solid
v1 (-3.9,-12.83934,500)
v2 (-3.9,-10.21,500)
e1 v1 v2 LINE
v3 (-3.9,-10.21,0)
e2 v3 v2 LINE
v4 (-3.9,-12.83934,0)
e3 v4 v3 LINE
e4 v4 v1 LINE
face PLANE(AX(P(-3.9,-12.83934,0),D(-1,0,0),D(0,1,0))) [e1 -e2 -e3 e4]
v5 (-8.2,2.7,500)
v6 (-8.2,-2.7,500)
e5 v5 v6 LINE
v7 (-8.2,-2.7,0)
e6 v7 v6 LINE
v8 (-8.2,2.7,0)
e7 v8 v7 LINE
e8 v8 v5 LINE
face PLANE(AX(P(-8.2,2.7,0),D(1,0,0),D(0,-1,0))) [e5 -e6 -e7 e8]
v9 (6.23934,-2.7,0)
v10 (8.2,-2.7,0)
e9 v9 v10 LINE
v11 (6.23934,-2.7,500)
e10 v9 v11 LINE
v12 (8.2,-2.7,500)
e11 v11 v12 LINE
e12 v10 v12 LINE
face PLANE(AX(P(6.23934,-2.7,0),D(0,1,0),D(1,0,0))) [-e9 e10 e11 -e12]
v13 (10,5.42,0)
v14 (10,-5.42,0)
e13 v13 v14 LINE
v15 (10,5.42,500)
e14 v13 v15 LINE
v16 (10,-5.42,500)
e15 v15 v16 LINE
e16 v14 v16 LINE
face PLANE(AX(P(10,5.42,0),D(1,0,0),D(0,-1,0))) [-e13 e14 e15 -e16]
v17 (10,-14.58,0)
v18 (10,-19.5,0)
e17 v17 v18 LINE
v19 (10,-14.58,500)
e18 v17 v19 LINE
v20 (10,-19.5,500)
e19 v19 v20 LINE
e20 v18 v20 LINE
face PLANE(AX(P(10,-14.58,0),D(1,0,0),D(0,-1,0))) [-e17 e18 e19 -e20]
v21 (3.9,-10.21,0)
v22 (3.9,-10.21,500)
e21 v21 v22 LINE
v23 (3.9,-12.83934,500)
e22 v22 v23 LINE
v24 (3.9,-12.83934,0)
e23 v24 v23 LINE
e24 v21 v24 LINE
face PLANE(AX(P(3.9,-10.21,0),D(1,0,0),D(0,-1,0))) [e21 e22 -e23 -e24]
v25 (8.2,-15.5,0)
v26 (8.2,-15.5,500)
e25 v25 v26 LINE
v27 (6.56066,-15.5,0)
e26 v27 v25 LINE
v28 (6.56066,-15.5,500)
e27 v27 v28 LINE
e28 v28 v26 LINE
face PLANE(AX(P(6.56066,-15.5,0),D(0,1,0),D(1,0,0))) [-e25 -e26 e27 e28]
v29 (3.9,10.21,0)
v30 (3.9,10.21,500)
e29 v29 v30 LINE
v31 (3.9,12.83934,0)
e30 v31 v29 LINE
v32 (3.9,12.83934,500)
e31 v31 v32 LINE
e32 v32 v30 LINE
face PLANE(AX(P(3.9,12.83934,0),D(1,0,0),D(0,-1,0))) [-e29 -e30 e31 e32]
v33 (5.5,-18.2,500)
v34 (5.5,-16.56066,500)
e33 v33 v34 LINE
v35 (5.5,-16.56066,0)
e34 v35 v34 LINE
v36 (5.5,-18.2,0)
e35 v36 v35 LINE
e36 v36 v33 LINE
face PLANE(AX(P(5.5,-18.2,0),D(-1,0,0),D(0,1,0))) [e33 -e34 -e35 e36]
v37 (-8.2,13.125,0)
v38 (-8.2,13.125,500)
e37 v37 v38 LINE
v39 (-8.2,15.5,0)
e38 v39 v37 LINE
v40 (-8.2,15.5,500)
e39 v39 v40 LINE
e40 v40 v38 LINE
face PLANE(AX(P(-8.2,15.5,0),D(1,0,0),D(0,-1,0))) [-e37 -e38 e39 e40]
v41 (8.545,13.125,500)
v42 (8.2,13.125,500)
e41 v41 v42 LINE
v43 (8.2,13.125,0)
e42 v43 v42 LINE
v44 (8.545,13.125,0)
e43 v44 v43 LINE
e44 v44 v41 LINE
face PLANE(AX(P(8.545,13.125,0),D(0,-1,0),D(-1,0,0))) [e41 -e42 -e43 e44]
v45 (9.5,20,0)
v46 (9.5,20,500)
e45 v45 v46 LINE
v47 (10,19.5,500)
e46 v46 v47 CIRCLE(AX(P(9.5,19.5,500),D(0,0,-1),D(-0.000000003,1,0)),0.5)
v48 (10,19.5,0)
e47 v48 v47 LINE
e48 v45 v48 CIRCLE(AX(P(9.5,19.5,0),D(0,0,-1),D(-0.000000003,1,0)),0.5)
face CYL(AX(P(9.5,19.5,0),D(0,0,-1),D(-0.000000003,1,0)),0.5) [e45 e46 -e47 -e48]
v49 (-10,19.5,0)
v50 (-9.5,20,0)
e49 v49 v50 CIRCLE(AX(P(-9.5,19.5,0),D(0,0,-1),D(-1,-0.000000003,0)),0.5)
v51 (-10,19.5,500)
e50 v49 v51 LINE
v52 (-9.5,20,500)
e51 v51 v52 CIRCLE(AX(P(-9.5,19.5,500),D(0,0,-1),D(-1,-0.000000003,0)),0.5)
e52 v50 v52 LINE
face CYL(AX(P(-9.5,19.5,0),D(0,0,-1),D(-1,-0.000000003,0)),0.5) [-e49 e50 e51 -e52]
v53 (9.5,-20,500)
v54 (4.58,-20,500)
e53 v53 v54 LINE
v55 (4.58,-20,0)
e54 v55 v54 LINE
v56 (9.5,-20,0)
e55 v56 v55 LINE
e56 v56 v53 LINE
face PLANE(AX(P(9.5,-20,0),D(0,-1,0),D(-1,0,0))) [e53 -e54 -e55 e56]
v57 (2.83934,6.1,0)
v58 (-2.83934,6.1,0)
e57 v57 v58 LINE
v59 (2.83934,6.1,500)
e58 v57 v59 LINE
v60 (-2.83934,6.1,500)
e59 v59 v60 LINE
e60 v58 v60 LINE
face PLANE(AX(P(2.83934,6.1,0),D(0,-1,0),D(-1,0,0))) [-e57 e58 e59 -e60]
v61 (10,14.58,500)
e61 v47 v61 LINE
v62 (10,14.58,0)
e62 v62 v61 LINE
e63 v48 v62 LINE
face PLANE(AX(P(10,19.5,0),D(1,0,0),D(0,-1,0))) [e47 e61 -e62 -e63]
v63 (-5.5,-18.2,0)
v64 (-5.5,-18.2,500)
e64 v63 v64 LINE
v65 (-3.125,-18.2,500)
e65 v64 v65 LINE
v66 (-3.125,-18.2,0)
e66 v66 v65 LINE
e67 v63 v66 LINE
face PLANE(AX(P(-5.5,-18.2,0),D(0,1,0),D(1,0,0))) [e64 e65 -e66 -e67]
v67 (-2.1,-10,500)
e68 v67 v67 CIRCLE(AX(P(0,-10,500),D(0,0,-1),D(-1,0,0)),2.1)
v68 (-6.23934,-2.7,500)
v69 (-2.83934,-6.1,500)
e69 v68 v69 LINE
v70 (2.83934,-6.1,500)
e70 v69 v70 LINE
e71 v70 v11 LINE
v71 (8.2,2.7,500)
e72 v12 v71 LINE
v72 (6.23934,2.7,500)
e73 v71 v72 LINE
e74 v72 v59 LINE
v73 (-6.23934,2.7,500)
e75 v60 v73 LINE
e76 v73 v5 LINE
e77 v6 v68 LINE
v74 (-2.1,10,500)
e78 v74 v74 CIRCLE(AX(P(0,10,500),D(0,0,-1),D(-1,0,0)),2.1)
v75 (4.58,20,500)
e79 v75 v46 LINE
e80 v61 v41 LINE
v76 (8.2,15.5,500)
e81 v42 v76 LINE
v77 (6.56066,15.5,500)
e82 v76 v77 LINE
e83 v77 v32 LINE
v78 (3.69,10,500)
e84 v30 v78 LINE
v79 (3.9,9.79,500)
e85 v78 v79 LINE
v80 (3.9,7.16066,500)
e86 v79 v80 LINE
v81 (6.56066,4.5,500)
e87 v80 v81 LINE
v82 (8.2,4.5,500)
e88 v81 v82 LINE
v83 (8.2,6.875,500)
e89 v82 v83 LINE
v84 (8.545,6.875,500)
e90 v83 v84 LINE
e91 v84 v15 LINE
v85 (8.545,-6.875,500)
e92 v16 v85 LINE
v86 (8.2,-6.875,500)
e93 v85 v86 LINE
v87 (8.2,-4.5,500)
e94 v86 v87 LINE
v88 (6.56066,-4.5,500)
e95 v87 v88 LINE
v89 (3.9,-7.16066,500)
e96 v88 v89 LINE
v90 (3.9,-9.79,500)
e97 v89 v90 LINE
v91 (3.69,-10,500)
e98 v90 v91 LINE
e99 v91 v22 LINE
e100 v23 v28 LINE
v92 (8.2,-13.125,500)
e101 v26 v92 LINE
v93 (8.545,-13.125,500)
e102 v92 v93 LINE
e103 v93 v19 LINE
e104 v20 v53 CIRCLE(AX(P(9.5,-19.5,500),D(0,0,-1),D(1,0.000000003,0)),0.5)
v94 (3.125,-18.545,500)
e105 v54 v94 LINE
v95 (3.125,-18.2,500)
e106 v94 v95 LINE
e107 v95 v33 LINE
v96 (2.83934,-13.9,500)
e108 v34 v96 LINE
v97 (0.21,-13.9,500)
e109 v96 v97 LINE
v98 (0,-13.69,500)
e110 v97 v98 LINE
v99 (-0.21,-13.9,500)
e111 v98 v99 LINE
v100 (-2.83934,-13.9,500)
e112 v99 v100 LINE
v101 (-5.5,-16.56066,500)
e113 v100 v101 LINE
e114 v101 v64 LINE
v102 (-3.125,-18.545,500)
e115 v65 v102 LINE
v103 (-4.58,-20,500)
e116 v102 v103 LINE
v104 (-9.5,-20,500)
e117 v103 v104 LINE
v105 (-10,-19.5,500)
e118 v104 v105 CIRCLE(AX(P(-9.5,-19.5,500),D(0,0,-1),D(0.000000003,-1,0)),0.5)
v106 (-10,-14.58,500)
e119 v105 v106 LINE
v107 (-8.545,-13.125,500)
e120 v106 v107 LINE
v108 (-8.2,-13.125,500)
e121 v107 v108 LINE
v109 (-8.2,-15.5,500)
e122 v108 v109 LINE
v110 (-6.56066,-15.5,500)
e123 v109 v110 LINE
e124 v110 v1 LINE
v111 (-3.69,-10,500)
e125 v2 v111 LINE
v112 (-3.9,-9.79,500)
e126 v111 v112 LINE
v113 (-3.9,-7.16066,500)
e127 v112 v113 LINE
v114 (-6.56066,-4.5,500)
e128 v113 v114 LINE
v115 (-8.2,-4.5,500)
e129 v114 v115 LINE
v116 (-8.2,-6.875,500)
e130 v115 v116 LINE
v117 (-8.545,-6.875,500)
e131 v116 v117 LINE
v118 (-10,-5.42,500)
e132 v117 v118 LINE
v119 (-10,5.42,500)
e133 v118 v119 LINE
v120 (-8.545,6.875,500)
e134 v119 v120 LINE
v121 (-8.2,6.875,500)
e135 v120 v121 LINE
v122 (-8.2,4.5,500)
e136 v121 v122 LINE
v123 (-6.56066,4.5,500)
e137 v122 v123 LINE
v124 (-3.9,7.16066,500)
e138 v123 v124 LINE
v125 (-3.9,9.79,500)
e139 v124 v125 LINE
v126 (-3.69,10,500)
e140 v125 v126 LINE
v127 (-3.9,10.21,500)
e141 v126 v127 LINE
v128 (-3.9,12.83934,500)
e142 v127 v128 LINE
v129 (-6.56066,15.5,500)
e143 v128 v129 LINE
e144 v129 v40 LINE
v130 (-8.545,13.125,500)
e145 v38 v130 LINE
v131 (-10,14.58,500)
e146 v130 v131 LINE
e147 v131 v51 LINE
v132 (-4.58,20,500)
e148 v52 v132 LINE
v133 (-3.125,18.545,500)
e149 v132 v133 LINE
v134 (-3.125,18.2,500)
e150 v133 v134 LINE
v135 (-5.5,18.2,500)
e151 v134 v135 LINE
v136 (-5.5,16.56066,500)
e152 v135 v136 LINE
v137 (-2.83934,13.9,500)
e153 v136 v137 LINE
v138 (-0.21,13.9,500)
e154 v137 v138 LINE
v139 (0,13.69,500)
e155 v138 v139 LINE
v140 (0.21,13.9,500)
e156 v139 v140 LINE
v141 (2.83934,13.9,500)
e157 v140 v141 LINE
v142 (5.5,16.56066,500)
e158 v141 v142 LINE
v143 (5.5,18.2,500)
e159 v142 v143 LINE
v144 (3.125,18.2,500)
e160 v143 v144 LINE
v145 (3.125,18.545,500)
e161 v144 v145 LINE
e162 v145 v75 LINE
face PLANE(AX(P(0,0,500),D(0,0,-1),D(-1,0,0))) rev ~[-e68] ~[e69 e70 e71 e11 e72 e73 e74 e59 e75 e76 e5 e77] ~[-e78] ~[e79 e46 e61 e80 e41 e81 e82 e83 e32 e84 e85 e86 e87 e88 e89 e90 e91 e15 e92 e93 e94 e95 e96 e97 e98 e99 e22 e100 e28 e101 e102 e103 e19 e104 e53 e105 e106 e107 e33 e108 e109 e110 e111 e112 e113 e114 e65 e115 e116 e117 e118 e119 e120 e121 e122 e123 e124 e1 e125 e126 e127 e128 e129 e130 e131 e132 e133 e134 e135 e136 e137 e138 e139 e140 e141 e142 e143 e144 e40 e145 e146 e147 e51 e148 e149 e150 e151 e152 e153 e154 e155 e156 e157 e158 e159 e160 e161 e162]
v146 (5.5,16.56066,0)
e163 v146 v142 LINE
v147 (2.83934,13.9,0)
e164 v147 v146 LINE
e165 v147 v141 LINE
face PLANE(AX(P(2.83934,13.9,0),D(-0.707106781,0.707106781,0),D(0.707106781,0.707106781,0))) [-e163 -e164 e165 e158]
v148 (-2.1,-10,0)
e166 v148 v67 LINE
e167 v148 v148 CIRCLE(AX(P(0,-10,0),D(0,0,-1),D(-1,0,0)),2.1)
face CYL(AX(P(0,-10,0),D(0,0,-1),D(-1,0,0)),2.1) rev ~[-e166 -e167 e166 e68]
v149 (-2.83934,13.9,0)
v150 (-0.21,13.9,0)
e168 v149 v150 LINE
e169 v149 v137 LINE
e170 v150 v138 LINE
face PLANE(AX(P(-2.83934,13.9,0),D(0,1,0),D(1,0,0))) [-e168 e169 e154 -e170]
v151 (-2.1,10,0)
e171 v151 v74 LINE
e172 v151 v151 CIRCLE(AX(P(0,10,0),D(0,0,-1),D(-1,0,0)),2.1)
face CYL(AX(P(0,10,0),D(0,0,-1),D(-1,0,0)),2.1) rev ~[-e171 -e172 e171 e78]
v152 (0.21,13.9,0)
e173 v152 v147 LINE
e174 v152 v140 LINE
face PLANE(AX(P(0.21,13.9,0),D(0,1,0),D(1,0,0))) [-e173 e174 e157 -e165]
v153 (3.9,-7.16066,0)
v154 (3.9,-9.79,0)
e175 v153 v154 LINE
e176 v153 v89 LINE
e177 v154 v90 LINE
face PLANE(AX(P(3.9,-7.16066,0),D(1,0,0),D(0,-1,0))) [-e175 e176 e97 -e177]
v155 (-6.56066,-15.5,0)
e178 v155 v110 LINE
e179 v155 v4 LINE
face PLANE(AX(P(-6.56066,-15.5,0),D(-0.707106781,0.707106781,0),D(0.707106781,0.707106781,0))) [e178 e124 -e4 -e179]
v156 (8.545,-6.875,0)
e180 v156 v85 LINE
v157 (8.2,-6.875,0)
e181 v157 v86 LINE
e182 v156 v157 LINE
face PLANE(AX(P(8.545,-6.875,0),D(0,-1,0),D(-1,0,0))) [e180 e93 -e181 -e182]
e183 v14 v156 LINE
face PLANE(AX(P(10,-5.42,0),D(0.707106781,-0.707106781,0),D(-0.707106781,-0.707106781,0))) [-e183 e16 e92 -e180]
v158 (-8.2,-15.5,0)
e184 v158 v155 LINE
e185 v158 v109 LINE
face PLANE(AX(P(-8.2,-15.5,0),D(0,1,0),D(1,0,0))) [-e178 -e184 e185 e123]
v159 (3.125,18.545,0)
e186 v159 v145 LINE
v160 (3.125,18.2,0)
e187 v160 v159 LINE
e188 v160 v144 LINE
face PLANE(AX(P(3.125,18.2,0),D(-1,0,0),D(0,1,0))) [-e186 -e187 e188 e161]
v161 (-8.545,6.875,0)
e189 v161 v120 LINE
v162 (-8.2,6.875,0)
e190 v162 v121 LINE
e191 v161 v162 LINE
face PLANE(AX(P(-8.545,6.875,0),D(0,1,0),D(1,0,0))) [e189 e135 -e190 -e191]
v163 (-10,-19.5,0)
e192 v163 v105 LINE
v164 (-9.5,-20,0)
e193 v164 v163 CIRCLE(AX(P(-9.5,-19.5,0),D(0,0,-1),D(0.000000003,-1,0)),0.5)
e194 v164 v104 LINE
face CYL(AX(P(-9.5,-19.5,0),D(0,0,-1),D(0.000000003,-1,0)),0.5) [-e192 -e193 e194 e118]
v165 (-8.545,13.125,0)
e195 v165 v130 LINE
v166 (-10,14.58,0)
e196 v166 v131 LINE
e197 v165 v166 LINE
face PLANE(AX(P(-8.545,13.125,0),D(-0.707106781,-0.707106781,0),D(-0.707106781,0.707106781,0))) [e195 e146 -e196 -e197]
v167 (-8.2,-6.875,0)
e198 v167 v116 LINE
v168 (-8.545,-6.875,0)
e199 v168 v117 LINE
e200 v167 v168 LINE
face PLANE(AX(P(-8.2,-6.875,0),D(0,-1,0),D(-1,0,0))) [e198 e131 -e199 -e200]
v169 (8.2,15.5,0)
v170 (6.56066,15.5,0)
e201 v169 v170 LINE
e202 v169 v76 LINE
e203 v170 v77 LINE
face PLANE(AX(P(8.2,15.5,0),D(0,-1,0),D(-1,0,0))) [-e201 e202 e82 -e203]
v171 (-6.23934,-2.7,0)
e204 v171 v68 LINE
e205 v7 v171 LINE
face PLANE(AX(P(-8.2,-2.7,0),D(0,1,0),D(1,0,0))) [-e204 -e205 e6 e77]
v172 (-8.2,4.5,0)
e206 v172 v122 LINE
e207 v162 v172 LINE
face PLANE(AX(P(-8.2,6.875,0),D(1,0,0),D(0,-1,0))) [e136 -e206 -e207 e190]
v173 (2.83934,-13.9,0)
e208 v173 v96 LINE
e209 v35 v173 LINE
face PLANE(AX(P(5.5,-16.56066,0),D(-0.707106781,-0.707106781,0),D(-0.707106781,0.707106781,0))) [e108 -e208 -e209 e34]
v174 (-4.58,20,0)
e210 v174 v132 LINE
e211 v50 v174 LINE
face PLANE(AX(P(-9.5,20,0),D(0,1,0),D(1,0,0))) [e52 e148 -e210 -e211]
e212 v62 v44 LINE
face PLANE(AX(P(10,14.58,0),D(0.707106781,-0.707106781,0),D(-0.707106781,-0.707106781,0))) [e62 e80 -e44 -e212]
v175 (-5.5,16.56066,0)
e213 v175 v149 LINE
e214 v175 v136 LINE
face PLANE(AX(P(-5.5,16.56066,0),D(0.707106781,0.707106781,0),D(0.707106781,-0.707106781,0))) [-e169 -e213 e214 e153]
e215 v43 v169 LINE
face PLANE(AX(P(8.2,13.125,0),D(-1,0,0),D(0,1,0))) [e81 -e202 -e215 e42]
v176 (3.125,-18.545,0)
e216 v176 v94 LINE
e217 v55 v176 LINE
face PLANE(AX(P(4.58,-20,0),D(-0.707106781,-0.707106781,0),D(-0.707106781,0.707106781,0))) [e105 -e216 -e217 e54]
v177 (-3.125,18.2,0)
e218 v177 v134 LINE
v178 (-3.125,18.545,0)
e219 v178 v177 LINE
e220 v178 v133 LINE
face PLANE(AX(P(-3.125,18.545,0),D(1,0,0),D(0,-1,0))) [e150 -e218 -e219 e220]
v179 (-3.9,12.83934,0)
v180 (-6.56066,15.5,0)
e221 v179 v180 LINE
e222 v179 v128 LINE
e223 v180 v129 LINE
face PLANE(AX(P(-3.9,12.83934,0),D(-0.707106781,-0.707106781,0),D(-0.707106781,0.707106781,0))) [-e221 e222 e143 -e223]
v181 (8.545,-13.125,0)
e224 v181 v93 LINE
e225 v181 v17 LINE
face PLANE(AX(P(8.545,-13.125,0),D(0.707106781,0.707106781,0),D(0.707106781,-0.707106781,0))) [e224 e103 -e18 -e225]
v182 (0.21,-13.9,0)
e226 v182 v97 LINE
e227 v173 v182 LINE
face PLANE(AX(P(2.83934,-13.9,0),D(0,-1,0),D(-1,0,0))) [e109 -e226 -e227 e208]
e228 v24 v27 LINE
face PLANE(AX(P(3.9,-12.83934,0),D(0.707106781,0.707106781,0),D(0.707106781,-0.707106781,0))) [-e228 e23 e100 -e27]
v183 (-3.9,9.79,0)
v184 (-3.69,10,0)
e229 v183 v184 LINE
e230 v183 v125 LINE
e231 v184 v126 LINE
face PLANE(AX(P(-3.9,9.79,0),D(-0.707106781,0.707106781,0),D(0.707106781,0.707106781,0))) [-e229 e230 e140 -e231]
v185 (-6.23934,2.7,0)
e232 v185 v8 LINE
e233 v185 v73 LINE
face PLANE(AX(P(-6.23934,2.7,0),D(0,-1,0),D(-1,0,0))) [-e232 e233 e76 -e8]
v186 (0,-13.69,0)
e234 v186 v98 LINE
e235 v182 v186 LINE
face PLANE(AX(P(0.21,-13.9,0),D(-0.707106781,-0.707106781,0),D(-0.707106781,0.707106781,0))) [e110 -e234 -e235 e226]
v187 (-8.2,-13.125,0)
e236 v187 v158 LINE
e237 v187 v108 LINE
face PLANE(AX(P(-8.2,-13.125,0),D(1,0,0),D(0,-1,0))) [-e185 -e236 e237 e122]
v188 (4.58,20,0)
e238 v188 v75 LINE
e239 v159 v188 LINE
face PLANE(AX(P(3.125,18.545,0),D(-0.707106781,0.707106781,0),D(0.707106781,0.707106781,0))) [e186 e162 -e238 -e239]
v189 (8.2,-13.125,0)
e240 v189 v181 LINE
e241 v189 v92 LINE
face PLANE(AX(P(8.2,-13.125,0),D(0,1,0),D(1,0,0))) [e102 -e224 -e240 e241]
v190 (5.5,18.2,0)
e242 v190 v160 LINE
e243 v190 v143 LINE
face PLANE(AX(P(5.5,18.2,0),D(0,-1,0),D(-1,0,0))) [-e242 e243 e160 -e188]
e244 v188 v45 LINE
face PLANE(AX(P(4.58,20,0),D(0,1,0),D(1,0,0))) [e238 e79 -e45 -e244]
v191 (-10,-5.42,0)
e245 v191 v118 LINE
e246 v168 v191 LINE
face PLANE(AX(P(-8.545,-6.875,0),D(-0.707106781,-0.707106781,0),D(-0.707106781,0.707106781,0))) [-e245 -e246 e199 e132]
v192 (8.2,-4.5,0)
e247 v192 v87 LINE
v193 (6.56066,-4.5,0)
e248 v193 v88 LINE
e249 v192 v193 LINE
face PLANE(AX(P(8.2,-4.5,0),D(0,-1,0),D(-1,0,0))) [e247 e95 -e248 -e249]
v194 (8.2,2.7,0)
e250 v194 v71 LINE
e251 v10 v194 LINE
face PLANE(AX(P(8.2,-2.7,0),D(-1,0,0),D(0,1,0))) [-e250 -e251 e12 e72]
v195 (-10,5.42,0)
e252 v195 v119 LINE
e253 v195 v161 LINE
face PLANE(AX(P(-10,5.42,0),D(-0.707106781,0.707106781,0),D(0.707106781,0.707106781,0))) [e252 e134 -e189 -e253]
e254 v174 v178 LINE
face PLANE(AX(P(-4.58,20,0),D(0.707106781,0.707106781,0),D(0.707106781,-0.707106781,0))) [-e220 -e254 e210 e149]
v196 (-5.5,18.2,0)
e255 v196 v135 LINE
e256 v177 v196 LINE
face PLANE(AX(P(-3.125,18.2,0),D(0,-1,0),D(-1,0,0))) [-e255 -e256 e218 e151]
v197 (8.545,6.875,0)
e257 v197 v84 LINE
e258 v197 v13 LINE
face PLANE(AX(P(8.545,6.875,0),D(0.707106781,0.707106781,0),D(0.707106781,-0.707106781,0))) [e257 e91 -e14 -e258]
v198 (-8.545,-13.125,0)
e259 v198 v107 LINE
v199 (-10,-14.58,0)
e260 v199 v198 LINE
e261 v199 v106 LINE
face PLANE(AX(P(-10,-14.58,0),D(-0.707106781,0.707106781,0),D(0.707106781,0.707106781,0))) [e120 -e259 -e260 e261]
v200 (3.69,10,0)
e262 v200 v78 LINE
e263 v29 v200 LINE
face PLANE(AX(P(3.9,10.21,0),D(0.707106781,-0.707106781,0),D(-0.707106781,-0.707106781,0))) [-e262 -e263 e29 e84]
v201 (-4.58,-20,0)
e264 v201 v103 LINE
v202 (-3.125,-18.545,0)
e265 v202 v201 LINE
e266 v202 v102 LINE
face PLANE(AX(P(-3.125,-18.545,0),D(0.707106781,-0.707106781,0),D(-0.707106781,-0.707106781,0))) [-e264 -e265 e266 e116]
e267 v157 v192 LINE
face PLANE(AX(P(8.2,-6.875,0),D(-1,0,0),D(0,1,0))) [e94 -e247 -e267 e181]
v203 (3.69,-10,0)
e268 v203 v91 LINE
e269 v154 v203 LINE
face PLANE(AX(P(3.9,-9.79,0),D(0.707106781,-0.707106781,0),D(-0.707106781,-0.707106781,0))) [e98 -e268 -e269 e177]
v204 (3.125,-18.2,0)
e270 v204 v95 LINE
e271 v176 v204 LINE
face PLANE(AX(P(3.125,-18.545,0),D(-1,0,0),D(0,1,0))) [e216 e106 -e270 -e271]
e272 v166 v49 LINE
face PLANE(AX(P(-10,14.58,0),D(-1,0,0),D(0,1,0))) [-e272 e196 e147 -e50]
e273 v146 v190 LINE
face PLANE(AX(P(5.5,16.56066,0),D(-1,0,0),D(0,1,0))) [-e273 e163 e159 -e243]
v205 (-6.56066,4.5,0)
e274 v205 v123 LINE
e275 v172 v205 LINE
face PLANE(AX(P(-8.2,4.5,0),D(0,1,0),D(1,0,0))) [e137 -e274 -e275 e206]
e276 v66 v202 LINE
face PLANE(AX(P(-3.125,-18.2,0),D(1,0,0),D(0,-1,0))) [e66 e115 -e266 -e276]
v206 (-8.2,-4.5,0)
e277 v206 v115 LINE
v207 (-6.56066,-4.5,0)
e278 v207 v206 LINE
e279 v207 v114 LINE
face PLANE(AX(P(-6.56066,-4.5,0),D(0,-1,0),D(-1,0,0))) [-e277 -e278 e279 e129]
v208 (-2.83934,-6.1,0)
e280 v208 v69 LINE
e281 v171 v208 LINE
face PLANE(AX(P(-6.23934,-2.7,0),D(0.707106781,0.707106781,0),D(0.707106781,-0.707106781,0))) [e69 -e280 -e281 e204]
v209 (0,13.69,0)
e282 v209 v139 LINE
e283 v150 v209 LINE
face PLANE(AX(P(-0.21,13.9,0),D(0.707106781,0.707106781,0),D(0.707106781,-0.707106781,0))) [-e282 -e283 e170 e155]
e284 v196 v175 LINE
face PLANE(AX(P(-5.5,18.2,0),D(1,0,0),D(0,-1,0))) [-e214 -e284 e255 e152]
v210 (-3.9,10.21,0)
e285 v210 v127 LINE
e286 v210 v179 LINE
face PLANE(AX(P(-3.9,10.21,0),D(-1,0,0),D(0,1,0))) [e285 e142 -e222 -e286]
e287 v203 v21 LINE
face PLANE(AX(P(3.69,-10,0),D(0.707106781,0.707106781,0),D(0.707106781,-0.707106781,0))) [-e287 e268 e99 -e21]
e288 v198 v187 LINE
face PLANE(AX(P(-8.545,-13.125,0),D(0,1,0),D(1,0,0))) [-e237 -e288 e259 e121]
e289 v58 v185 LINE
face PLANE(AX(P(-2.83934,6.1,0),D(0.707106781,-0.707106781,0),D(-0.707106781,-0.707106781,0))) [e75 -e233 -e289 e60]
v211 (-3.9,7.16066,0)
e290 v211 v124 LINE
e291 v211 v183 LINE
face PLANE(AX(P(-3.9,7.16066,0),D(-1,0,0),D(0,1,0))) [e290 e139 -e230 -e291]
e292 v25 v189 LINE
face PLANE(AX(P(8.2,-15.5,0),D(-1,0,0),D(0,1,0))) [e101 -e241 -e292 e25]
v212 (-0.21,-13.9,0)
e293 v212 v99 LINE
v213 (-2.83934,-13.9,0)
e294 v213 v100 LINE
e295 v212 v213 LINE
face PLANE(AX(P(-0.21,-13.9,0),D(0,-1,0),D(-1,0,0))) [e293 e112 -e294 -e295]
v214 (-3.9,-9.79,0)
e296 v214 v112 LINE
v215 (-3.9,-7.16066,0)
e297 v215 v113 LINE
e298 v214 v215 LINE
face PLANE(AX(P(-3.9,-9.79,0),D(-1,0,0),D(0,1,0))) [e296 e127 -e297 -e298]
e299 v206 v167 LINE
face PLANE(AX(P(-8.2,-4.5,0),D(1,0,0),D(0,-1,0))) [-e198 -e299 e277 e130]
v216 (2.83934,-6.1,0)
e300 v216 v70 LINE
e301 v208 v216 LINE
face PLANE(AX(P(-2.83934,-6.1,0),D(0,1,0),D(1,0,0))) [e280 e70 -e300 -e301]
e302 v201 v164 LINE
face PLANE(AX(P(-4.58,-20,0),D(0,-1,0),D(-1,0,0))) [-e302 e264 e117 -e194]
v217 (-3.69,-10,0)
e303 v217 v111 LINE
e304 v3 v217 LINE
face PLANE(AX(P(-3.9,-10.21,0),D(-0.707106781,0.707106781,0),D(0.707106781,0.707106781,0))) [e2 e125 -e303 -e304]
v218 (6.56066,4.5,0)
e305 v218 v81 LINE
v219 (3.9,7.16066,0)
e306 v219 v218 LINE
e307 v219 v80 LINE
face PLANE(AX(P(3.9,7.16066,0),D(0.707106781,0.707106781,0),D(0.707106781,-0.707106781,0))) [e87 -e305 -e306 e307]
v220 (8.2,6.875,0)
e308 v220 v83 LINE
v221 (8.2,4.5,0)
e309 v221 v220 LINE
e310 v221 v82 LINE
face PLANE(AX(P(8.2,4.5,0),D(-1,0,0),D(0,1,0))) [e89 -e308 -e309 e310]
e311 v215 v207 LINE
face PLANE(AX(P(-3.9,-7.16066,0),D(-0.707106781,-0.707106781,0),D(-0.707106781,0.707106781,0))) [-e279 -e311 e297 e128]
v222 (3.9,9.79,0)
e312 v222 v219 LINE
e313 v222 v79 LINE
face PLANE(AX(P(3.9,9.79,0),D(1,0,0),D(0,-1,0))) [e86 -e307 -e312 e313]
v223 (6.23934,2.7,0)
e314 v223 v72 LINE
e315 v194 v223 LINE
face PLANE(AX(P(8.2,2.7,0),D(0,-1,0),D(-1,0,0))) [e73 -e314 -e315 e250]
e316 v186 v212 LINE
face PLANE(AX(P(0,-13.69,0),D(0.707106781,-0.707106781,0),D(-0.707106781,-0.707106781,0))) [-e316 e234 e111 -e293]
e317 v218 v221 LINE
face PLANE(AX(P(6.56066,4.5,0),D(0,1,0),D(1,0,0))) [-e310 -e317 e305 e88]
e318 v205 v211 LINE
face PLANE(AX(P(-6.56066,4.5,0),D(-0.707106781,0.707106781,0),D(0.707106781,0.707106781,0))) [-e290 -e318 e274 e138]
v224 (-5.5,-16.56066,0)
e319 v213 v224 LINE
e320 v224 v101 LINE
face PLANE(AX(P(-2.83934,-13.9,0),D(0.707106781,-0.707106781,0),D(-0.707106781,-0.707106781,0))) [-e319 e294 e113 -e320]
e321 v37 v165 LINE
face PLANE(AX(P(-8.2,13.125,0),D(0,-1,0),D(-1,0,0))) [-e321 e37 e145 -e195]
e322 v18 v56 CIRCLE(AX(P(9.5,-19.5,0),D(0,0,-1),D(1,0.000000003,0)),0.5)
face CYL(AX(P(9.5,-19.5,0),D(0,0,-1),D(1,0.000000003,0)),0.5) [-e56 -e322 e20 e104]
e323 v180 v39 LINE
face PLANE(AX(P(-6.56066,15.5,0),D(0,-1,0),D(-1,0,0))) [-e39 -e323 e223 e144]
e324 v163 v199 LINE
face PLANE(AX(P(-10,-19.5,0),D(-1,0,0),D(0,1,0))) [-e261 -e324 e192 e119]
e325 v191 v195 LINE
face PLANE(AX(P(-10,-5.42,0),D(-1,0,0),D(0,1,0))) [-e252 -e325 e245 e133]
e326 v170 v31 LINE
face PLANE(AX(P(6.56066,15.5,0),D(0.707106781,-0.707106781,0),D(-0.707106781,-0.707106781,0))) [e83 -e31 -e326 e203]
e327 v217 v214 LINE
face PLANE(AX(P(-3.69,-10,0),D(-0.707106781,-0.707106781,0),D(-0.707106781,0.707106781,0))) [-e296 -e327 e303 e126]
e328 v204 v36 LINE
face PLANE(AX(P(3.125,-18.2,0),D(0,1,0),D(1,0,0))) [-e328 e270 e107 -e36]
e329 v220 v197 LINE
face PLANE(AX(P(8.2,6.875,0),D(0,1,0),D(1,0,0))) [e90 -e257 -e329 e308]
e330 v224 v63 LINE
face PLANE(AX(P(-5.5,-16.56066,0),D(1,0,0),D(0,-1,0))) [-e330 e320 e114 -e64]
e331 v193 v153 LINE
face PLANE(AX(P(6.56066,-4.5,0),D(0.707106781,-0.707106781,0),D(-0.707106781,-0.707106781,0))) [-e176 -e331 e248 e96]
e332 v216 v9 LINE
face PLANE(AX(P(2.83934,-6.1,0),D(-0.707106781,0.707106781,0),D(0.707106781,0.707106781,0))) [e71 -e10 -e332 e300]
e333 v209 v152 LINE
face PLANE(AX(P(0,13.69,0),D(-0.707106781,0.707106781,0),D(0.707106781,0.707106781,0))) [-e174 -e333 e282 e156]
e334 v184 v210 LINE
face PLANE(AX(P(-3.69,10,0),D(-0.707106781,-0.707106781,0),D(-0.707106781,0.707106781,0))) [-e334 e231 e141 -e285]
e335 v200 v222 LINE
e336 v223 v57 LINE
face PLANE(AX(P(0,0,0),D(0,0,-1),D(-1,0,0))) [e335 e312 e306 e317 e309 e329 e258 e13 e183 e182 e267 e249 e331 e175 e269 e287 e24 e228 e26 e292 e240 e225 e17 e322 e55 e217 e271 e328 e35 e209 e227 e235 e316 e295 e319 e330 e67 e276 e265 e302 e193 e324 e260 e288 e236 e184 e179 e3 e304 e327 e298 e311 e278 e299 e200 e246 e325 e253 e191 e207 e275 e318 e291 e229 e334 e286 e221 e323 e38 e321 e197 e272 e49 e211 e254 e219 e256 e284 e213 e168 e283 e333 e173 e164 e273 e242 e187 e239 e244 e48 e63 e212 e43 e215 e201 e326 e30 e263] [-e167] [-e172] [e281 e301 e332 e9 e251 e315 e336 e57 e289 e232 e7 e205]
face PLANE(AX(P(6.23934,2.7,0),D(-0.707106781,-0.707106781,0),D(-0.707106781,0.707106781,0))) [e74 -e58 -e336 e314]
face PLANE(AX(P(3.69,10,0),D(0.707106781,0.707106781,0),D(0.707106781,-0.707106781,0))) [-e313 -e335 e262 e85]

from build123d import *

# Parameters (mm, degrees)
SKETCH1_R           = 2.1
BOSS_EXTRUDE1_DEPTH = 500


with BuildPart() as part:
    # Sketch1 → Boss-Extrude1 (new body)
    with BuildSketch(Plane(origin=(0, 0, 0), x_dir=(-1, 0, 0), z_dir=(0, 0, -1))):
        with BuildLine():
            Line((-3.9, 9.79), (-3.9, 7.160660172))
            Line((-3.9, 7.160660172), (-6.560660172, 4.5))
            Line((-6.560660172, 4.5), (-8.2, 4.5))
            Line((-8.2, 4.5), (-8.2, 6.875))
            Line((-8.2, 6.875), (-8.545, 6.875))
            Line((-8.545, 6.875), (-10, 5.42))
            Line((-10, 5.42), (-10, -5.42))
            Line((-10, -5.42), (-8.545, -6.875))
            Line((-8.545, -6.875), (-8.2, -6.875))
            Line((-8.2, -6.875), (-8.2, -4.5))
            Line((-8.2, -4.5), (-6.560660172, -4.5))
            Line((-6.560660172, -4.5), (-3.9, -7.160660172))
            Line((-3.9, -7.160660172), (-3.9, -9.79))
            Line((-3.9, -9.79), (-3.69, -10))
            Line((-3.69, -10), (-3.9, -10.21))
            Line((-3.9, -10.21), (-3.9, -12.839339828))
            Line((-3.9, -12.839339828), (-6.560660172, -15.5))
            Line((-6.560660172, -15.5), (-8.2, -15.5))
            Line((-8.2, -15.5), (-8.2, -13.125))
            Line((-8.2, -13.125), (-8.545, -13.125))
            Line((-8.545, -13.125), (-10, -14.58))
            Line((-10, -14.58), (-10, -19.5))
            ThreePointArc((-10, -19.5), (-9.853553391, -19.853553391), (-9.5, -20))
            Line((-9.5, -20), (-4.58, -20))
            Line((-4.58, -20), (-3.125, -18.545))
            Line((-3.125, -18.545), (-3.125, -18.2))
            Line((-3.125, -18.2), (-5.5, -18.2))
            Line((-5.5, -18.2), (-5.5, -16.560660172))
            Line((-5.5, -16.560660172), (-2.839339828, -13.9))
            Line((-2.839339828, -13.9), (-0.21, -13.9))
            Line((-0.21, -13.9), (0, -13.69))
            Line((0, -13.69), (0.21, -13.9))
            Line((0.21, -13.9), (2.839339828, -13.9))
            Line((2.839339828, -13.9), (5.5, -16.560660172))
            Line((5.5, -16.560660172), (5.5, -18.2))
            Line((5.5, -18.2), (3.125, -18.2))
            Line((3.125, -18.2), (3.125, -18.545))
            Line((3.125, -18.545), (4.58, -20))
            Line((4.58, -20), (9.5, -20))
            ThreePointArc((9.5, -20), (9.853553391, -19.853553391), (10, -19.5))
            Line((10, -19.5), (10, -14.58))
            Line((10, -14.58), (8.545, -13.125))
            Line((8.545, -13.125), (8.2, -13.125))
            Line((8.2, -13.125), (8.2, -15.5))
            Line((8.2, -15.5), (6.560660172, -15.5))
            Line((6.560660172, -15.5), (3.9, -12.839339828))
            Line((3.9, -12.839339828), (3.9, -10.21))
            Line((3.9, -10.21), (3.69, -10))
            Line((3.69, -10), (3.9, -9.79))
            Line((3.9, -9.79), (3.9, -7.160660172))
            Line((3.9, -7.160660172), (6.560660172, -4.5))
            Line((6.560660172, -4.5), (8.2, -4.5))
            Line((8.2, -4.5), (8.2, -6.875))
            Line((8.2, -6.875), (8.545, -6.875))
            Line((8.545, -6.875), (10, -5.42))
            Line((10, -5.42), (10, 5.42))
            Line((10, 5.42), (8.545, 6.875))
            Line((8.545, 6.875), (8.2, 6.875))
            Line((8.2, 6.875), (8.2, 4.5))
            Line((8.2, 4.5), (6.560660172, 4.5))
            Line((6.560660172, 4.5), (3.9, 7.160660172))
            Line((3.9, 7.160660172), (3.9, 9.79))
            Line((3.9, 9.79), (3.69, 10))
            Line((3.69, 10), (3.9, 10.21))
            Line((3.9, 10.21), (3.9, 12.839339828))
            Line((3.9, 12.839339828), (6.560660172, 15.5))
            Line((6.560660172, 15.5), (8.2, 15.5))
            Line((8.2, 15.5), (8.2, 13.125))
            Line((8.2, 13.125), (8.545, 13.125))
            Line((8.545, 13.125), (10, 14.58))
            Line((10, 14.58), (10, 19.5))
            ThreePointArc((10, 19.5), (9.853553391, 19.853553391), (9.5, 20))
            Line((9.5, 20), (4.58, 20))
            Line((4.58, 20), (3.125, 18.545))
            Line((3.125, 18.545), (3.125, 18.2))
            Line((3.125, 18.2), (5.5, 18.2))
            Line((5.5, 18.2), (5.5, 16.560660172))
            Line((5.5, 16.560660172), (2.839339828, 13.9))
            Line((2.839339828, 13.9), (0.21, 13.9))
            Line((0.21, 13.9), (0, 13.69))
            Line((0, 13.69), (-0.21, 13.9))
            Line((-0.21, 13.9), (-2.839339828, 13.9))
            Line((-2.839339828, 13.9), (-5.5, 16.560660172))
            Line((-5.5, 16.560660172), (-5.5, 18.2))
            Line((-5.5, 18.2), (-3.125, 18.2))
            Line((-3.125, 18.2), (-3.125, 18.545))
            Line((-3.125, 18.545), (-4.58, 20))
            Line((-4.58, 20), (-9.5, 20))
            ThreePointArc((-9.5, 20), (-9.853553391, 19.853553391), (-10, 19.5))
            Line((-10, 19.5), (-10, 14.58))
            Line((-10, 14.58), (-8.545, 13.125))
            Line((-8.545, 13.125), (-8.2, 13.125))
            Line((-8.2, 13.125), (-8.2, 15.5))
            Line((-8.2, 15.5), (-6.560660172, 15.5))
            Line((-6.560660172, 15.5), (-3.9, 12.839339828))
            Line((-3.9, 12.839339828), (-3.9, 10.21))
            Line((-3.9, 10.21), (-3.69, 10))
            Line((-3.69, 10), (-3.9, 9.79))
        make_face()
        with Locations((0, 10)):
            Circle(SKETCH1_R, mode=Mode.SUBTRACT)
        with Locations((0, -10)):
            Circle(SKETCH1_R, mode=Mode.SUBTRACT)
        Polygon((6.239339828, -2.7), (2.839339828, -6.1), (-2.839339828, -6.1), (-6.239339828, -2.7), (-8.2, -2.7), (-8.2, 2.7), (-6.239339828, 2.7), (-2.839339828, 6.1), (2.839339828, 6.1), (6.239339828, 2.7), (8.2, 2.7), (8.2, -2.7), align=None, mode=Mode.SUBTRACT)
    extrude(amount=-BOSS_EXTRUDE1_DEPTH)


solid = part.part
